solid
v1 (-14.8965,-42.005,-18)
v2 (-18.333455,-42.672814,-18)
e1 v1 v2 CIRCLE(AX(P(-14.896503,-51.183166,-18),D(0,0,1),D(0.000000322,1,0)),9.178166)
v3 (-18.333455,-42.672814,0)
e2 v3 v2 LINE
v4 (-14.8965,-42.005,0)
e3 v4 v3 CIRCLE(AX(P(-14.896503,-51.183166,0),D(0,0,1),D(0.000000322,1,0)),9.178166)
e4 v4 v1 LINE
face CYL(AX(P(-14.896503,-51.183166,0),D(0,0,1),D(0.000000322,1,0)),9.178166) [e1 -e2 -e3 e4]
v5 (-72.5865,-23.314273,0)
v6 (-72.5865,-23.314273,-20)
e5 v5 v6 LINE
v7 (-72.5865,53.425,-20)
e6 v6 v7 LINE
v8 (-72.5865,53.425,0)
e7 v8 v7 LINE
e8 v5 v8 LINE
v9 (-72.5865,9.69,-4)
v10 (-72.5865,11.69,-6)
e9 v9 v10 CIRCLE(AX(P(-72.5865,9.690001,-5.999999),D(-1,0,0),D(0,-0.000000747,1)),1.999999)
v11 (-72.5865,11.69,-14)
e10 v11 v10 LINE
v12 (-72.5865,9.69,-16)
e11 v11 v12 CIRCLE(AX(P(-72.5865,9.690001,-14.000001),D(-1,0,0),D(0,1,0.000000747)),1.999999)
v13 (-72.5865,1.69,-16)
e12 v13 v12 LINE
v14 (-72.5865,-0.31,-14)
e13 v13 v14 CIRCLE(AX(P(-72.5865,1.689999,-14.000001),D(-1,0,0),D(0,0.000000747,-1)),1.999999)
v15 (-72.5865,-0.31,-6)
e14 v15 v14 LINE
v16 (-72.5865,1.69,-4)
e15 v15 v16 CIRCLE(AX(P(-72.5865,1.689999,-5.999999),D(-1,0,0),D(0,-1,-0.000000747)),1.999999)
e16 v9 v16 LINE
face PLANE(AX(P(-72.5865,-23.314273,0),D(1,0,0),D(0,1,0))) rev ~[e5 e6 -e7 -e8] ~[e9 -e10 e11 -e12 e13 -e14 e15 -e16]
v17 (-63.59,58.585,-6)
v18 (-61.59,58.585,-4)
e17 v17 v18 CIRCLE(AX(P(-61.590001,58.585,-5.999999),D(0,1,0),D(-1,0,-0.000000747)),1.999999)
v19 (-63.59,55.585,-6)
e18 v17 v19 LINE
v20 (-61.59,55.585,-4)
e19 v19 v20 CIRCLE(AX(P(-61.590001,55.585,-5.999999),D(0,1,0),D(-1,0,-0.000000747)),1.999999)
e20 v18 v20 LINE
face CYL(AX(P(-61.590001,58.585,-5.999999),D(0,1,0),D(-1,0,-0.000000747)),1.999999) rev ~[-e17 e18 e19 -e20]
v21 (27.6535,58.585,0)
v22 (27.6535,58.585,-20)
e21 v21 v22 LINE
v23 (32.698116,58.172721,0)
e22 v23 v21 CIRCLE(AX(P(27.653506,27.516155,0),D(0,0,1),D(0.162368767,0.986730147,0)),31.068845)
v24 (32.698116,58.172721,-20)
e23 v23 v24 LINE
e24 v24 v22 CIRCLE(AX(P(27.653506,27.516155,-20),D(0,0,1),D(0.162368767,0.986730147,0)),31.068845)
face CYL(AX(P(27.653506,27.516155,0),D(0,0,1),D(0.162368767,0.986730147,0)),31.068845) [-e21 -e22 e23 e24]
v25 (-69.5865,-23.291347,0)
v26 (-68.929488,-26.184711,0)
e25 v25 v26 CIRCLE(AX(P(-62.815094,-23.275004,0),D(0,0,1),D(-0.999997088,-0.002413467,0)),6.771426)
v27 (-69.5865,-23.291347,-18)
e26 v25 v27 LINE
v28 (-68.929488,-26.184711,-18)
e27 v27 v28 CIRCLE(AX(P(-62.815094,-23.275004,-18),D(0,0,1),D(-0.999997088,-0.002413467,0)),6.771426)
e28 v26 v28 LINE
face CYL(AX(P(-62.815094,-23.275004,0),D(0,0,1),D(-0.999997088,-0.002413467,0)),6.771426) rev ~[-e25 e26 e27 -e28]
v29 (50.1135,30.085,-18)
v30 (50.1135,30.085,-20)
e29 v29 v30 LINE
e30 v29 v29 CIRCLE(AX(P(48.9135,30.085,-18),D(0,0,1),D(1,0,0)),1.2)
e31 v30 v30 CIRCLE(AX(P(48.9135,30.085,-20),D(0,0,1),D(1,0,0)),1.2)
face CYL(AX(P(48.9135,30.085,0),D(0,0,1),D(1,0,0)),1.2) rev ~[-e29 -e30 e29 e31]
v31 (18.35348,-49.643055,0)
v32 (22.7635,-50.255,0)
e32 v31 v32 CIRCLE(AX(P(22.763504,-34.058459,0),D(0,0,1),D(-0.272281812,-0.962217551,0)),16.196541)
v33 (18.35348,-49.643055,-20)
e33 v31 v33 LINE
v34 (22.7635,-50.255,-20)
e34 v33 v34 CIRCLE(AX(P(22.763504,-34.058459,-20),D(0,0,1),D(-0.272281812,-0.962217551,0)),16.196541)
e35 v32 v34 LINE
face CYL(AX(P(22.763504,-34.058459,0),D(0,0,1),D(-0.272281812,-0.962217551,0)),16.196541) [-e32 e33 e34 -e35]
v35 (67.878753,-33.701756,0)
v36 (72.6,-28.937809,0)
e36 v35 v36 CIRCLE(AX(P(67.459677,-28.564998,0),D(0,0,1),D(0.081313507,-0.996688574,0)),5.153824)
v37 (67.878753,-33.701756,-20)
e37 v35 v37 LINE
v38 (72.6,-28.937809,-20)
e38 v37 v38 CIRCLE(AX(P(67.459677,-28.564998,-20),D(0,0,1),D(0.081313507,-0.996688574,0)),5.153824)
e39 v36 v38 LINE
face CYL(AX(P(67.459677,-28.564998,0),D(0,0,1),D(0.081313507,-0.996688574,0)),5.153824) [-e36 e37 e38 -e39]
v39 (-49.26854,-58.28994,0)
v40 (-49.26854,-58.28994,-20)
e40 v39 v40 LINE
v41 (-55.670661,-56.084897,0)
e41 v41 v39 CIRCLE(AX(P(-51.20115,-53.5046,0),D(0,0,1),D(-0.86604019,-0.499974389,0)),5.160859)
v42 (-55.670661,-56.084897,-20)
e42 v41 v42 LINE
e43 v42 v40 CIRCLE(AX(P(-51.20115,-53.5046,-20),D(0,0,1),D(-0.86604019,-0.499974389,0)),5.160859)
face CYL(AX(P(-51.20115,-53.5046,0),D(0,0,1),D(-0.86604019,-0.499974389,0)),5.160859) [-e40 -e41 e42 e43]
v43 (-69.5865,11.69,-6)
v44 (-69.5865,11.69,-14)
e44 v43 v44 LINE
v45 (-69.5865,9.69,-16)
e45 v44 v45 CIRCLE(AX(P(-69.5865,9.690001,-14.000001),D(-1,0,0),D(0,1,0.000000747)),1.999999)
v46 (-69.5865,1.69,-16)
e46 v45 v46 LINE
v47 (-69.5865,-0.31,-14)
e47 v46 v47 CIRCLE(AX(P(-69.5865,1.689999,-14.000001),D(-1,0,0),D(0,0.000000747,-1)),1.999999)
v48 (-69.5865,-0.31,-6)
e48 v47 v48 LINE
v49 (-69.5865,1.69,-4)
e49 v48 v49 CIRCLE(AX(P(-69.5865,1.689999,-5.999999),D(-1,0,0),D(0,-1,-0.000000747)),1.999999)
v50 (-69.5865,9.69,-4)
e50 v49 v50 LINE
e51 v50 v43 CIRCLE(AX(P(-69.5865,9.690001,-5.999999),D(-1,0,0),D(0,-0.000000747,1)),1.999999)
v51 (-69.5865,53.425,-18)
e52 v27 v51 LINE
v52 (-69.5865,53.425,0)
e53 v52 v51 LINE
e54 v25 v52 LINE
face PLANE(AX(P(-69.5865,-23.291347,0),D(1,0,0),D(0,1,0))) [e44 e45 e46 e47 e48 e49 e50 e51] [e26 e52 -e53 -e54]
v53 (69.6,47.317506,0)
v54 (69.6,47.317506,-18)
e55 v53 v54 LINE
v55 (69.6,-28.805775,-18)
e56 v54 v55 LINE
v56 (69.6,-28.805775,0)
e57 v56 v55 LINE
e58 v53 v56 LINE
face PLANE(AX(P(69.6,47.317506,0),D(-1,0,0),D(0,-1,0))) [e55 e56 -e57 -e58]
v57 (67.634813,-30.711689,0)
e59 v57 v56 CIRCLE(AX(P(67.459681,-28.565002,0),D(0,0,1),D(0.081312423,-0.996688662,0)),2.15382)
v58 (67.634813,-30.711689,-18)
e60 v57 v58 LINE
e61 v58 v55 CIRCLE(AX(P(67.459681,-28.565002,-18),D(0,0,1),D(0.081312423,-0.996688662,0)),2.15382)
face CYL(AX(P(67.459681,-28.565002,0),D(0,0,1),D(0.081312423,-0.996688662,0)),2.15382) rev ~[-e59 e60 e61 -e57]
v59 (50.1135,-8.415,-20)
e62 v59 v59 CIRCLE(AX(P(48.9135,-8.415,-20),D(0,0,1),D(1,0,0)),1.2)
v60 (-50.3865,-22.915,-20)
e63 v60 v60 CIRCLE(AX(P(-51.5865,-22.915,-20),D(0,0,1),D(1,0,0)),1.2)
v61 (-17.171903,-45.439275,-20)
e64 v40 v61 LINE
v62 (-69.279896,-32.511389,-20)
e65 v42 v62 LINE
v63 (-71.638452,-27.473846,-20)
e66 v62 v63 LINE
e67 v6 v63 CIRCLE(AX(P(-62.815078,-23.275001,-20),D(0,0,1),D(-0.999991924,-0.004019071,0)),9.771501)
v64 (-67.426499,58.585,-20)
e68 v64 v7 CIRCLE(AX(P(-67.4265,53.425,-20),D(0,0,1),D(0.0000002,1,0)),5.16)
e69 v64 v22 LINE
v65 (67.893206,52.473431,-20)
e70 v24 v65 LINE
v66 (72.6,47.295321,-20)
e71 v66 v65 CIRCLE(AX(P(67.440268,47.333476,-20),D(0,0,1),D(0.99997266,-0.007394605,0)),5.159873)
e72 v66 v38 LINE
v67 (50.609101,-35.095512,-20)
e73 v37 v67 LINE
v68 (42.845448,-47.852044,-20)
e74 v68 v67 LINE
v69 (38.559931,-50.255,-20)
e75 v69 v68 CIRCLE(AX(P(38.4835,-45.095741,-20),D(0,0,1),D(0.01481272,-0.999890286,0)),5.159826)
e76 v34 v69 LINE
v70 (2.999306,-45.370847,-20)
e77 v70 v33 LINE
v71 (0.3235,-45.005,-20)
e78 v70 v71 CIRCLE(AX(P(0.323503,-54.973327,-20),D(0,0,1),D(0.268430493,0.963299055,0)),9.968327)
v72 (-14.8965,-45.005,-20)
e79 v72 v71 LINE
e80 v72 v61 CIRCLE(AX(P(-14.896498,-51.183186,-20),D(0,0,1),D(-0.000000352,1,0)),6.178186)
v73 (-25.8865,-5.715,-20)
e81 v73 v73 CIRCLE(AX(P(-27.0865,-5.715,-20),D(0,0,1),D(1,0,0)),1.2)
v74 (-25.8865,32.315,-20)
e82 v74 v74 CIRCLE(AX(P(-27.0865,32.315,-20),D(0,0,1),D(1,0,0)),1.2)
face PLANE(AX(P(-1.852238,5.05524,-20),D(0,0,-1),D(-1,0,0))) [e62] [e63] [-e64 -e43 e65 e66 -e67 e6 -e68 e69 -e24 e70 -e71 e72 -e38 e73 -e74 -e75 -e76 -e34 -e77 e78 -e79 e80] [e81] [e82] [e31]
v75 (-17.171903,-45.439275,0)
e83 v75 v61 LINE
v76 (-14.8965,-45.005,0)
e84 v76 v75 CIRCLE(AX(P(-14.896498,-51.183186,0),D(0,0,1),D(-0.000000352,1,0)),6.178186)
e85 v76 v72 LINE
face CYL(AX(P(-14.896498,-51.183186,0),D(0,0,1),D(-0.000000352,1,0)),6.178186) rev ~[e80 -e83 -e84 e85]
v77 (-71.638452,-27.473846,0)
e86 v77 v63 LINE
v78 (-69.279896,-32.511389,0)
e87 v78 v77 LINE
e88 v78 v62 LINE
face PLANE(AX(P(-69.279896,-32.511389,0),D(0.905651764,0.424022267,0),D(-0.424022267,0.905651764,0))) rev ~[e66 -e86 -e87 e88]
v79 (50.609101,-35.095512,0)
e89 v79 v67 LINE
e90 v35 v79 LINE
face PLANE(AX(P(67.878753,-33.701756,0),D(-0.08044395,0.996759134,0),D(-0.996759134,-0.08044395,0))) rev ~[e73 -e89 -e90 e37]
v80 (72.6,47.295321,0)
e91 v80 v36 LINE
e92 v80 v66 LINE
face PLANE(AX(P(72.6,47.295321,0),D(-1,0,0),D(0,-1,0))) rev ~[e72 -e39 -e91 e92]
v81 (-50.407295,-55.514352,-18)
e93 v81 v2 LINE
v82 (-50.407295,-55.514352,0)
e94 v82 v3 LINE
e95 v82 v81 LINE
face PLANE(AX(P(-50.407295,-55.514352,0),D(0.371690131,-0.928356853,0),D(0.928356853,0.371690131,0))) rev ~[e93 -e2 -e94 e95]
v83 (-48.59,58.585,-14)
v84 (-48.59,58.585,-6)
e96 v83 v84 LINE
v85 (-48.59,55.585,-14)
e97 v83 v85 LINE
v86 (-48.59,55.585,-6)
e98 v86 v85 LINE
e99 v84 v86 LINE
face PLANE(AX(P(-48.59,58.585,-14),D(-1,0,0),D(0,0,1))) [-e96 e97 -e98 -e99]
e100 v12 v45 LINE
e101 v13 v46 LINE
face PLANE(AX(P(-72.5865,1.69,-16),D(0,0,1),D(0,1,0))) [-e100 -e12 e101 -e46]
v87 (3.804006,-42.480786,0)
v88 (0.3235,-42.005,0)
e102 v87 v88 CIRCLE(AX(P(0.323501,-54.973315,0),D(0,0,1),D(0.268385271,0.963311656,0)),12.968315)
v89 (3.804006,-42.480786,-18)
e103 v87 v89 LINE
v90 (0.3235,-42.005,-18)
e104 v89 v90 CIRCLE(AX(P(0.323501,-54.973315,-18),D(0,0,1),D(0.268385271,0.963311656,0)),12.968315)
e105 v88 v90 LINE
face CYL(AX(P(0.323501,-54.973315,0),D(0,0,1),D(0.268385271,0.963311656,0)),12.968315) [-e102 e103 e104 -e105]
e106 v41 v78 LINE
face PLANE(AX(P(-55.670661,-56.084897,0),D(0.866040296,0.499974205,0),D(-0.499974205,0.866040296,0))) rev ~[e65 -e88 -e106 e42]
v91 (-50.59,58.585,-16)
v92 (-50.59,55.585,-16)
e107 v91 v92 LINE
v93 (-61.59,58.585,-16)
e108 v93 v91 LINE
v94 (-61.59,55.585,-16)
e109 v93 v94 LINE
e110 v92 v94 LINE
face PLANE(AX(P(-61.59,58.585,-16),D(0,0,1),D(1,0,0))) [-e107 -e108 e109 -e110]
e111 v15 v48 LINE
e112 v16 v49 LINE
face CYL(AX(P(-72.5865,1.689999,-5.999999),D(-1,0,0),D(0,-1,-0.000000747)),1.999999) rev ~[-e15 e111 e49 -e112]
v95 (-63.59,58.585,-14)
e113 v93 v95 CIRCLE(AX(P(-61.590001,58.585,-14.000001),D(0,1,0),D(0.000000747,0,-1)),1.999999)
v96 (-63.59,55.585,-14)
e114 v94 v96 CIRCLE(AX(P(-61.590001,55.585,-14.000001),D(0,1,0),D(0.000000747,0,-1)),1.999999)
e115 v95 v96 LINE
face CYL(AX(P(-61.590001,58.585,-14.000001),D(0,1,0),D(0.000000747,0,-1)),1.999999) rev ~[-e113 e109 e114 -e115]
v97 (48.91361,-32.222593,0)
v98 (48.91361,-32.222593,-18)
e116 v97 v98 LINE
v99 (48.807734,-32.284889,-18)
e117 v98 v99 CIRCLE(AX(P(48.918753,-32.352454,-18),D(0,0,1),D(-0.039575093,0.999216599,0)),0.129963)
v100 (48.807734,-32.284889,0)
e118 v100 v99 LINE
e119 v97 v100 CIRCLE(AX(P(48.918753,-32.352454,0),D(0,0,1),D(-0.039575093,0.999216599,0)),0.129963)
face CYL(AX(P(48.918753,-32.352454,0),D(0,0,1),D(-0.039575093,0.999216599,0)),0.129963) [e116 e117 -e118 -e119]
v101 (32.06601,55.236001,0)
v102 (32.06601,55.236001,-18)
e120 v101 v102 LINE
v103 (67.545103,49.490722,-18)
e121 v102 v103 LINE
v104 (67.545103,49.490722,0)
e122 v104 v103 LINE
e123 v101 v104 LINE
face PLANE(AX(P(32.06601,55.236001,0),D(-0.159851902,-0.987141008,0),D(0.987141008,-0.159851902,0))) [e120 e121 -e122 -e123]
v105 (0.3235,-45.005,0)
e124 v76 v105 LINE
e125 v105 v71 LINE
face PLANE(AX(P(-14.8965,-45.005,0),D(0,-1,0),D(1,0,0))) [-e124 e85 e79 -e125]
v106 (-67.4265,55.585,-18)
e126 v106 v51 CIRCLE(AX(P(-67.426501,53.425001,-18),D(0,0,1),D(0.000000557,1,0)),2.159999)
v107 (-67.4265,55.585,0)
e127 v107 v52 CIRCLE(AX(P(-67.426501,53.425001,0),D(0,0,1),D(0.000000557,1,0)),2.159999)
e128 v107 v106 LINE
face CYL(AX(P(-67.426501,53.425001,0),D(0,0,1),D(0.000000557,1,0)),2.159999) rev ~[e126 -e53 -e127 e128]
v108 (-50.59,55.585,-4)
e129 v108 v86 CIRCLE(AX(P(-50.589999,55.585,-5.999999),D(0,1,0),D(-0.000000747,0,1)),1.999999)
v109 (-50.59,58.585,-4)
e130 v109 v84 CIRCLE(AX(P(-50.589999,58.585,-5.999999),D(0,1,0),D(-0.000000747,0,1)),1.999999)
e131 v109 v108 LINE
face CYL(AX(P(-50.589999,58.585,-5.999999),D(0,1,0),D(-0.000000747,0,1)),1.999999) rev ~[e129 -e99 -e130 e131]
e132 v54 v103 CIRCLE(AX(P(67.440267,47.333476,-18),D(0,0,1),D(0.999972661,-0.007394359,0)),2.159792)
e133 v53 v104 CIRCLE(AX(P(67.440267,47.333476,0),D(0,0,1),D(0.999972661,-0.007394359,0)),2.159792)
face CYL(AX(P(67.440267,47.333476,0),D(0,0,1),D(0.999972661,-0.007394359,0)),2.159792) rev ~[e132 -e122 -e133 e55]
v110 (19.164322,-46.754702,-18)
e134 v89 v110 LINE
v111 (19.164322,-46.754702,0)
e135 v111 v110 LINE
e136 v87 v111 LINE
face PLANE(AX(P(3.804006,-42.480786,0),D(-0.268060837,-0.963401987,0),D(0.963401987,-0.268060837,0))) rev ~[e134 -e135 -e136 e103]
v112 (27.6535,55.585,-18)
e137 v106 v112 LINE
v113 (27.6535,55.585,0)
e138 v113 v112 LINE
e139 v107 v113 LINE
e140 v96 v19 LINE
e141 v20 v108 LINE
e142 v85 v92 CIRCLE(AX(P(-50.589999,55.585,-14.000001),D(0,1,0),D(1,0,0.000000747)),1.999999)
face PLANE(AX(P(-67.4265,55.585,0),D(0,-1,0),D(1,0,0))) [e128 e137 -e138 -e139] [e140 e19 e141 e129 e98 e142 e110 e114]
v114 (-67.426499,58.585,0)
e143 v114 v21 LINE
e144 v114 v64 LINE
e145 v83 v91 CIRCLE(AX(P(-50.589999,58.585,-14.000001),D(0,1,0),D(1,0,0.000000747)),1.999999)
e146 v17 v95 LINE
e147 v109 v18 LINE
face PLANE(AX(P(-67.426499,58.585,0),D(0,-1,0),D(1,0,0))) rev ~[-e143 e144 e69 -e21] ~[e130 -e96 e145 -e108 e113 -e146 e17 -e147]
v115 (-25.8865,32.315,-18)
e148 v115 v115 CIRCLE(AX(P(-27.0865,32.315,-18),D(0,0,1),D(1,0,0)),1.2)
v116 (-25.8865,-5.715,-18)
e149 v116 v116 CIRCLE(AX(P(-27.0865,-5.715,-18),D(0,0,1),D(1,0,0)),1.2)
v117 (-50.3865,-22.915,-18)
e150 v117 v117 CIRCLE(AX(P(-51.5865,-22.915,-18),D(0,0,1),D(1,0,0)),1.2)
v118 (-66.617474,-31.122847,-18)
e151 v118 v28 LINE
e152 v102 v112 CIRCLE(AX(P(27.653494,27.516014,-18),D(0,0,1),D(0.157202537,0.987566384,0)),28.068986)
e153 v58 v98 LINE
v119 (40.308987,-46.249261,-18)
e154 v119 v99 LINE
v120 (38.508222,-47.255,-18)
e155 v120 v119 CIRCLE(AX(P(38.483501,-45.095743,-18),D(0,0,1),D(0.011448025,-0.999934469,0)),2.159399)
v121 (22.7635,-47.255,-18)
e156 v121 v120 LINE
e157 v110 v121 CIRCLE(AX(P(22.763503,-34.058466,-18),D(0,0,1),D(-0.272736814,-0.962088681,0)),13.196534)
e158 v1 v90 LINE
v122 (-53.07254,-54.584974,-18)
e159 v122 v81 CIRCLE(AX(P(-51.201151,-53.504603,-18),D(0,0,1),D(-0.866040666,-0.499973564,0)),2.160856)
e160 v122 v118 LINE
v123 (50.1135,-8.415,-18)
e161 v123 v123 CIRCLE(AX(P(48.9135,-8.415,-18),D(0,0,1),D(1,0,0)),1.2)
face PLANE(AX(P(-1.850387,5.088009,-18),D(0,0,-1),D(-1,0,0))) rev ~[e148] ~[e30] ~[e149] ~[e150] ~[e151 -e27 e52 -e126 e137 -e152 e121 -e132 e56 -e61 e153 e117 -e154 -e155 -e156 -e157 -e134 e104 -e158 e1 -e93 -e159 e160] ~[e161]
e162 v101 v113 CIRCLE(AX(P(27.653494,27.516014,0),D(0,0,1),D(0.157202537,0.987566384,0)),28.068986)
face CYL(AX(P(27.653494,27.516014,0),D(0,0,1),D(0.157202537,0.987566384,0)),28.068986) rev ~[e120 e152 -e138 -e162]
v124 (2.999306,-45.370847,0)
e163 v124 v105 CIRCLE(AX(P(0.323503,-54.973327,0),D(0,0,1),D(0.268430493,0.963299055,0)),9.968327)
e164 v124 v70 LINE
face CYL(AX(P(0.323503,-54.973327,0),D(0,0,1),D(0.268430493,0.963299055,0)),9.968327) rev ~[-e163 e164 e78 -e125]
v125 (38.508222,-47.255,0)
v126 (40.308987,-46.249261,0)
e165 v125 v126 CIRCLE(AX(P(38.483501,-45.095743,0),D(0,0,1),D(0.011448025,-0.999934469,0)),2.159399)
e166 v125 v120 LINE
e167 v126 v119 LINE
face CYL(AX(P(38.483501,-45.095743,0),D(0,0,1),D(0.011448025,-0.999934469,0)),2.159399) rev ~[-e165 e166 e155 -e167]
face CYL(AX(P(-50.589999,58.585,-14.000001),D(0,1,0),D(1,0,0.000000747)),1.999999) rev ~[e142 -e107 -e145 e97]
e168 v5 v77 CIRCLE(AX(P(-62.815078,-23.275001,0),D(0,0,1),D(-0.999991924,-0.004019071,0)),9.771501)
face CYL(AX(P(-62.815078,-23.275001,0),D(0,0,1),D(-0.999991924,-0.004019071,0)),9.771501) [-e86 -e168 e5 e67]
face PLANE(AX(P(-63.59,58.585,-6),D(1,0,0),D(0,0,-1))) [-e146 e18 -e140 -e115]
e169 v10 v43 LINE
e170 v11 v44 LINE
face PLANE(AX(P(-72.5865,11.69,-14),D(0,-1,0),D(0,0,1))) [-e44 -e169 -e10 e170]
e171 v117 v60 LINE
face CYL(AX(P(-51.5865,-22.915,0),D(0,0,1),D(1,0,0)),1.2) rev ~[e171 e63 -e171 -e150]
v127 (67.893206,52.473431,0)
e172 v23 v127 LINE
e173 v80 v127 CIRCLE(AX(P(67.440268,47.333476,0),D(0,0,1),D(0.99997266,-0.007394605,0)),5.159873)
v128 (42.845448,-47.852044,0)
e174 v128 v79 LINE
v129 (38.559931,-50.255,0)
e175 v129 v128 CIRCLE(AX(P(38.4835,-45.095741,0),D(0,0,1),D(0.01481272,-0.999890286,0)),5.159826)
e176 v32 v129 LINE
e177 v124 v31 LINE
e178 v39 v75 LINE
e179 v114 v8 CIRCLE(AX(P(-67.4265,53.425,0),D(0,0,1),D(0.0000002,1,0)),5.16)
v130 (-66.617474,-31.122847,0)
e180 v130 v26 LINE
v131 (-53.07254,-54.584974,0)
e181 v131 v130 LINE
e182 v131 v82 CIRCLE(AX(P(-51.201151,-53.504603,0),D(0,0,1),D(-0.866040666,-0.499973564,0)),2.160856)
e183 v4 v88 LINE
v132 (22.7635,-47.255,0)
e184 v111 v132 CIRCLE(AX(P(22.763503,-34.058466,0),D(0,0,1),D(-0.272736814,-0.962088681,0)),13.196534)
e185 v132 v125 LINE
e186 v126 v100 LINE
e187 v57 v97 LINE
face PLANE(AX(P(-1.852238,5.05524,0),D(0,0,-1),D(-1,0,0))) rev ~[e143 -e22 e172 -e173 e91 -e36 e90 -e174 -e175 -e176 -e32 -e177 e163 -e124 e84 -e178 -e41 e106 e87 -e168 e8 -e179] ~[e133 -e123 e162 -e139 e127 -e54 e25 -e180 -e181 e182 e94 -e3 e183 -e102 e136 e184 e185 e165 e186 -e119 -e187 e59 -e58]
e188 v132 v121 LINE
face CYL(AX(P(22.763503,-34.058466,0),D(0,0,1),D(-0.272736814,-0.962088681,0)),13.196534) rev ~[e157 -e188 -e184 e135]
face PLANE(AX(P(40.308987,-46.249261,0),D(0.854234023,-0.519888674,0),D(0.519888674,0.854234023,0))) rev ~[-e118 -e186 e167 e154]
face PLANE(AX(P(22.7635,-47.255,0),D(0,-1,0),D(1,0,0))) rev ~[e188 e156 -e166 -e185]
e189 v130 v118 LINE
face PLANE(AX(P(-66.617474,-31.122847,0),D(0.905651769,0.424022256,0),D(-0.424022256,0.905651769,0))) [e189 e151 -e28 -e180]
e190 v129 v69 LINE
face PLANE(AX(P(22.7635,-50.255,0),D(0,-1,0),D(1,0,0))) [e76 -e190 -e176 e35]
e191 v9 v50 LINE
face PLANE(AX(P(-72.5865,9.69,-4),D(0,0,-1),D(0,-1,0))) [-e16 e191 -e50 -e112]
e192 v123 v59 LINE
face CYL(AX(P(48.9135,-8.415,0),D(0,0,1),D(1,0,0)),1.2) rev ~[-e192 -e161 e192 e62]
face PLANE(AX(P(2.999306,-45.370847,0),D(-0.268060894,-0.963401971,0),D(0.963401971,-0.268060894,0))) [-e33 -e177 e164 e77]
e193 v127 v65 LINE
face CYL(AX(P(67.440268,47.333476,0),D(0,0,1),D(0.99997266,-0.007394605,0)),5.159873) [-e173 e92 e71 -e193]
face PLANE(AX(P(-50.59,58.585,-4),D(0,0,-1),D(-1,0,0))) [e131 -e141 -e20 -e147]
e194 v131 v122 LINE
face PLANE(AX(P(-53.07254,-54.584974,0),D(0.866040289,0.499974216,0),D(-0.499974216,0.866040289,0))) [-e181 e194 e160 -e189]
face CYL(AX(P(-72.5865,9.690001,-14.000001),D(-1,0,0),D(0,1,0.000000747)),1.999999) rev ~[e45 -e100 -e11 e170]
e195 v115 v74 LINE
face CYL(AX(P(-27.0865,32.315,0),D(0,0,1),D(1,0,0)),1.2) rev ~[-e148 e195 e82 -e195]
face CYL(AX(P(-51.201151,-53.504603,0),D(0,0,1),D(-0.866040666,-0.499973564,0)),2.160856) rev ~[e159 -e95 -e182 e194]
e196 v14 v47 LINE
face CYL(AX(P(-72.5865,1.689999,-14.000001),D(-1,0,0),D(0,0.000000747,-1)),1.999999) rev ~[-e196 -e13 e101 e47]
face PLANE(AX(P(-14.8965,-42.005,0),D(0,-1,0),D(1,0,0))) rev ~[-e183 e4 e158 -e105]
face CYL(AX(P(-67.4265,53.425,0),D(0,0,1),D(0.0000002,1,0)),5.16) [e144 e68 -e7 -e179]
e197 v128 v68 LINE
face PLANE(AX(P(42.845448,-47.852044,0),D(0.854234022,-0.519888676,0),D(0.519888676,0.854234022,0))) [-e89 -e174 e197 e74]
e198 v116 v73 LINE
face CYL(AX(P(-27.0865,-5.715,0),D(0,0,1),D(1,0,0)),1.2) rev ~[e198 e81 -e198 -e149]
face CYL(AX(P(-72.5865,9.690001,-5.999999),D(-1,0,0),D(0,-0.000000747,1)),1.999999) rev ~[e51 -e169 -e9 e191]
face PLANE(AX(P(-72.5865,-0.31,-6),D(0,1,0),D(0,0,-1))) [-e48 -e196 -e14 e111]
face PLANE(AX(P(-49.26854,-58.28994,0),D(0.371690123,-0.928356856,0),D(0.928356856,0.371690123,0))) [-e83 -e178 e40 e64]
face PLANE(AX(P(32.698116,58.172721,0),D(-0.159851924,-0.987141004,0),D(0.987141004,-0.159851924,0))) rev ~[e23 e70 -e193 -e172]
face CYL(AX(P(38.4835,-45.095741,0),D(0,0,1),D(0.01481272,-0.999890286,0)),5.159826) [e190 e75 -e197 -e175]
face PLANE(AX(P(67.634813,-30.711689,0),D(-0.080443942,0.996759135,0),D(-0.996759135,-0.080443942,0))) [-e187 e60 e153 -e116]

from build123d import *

# Parameters (mm, degrees)
PAD_DEPTH       = 20
POCKET_DEPTH    = 18
SKETCH005_R     = 1.2
POCKET003_DEPTH = 20.001
POCKET004_DEPTH = 5
POCKET005_DEPTH = 5


with BuildPart() as part:
    # Sketch001 → Pad (new body)
    with BuildSketch(Plane.XY):
        with BuildLine():
            Line((-67.426499, 58.585), (27.6535, 58.585))
            ThreePointArc((32.698116, 58.172721), (30.184217, 58.481759), (27.6535, 58.585))
            Line((32.698116, 58.172721), (67.893206, 52.473431))
            ThreePointArc((72.6, 47.295321), (71.258477, 50.804149), (67.893206, 52.473431))
            Line((72.6, 47.295321), (72.6, -28.937809))
            ThreePointArc((67.878753, -33.701756), (71.12035, -32.19286), (72.6, -28.937809))
            Line((67.878753, -33.701756), (50.609101, -35.095512))
            Line((42.845448, -47.852044), (50.609101, -35.095512))
            ThreePointArc((38.559931, -50.255), (41.007059, -49.596346), (42.845448, -47.852044))
            Line((22.7635, -50.255), (38.559931, -50.255))
            ThreePointArc((18.35348, -49.643055), (20.537362, -50.101284), (22.7635, -50.255))
            Line((2.999306, -45.370847), (18.35348, -49.643055))
            ThreePointArc((2.999306, -45.370847), (1.67385, -45.096885), (0.3235, -45.005))
            Line((-14.8965, -45.005), (0.3235, -45.005))
            ThreePointArc((-14.8965, -45.005), (-16.054737, -45.11454), (-17.171903, -45.439275))
            Line((-49.26854, -58.28994), (-17.171903, -45.439275))
            ThreePointArc((-55.670661, -56.084897), (-52.881781, -58.384143), (-49.26854, -58.28994))
            Line((-55.670661, -56.084897), (-69.279896, -32.511389))
            Line((-69.279896, -32.511389), (-71.638452, -27.473846))
            ThreePointArc((-72.5865, -23.314273), (-72.342256, -25.446431), (-71.638452, -27.473846))
            Line((-72.5865, -23.314273), (-72.5865, 53.425))
            ThreePointArc((-67.426499, 58.585), (-71.075171, 57.073671), (-72.5865, 53.425))
        make_face()
    extrude(amount=-PAD_DEPTH)

    # Sketch002 → Pocket (cut)
    with BuildSketch(Plane.XY):
        with BuildLine():
            Line((-67.4265, 55.585), (27.6535, 55.585))
            ThreePointArc((32.06601, 55.236001), (29.866645, 55.497614), (27.6535, 55.585))
            Line((32.06601, 55.236001), (67.545103, 49.490722))
            ThreePointArc((69.6, 47.317506), (69.009594, 48.817361), (67.545103, 49.490722))
            Line((69.6, 47.317506), (69.6, -28.805775))
            ThreePointArc((67.634813, -30.711689), (68.959166, -30.11112), (69.6, -28.805775))
            Line((67.634813, -30.711689), (48.91361, -32.222593))
            ThreePointArc((48.91361, -32.222593), (48.852847, -32.240442), (48.807734, -32.284889))
            Line((40.308987, -46.249261), (48.807734, -32.284889))
            ThreePointArc((38.508222, -47.255), (39.536447, -46.98103), (40.308987, -46.249261))
            Line((22.7635, -47.255), (38.508222, -47.255))
            ThreePointArc((19.164322, -46.754702), (20.946609, -47.129327), (22.7635, -47.255))
            Line((3.804006, -42.480786), (19.164322, -46.754702))
            ThreePointArc((3.804006, -42.480786), (2.079938, -42.124497), (0.3235, -42.005))
            Line((-14.8965, -42.005), (0.3235, -42.005))
            ThreePointArc((-14.8965, -42.005), (-16.647117, -42.1735), (-18.333455, -42.672814))
            Line((-50.407295, -55.514352), (-18.333455, -42.672814))
            ThreePointArc((-53.07254, -54.584974), (-51.912632, -55.544969), (-50.407295, -55.514352))
            Line((-53.07254, -54.584974), (-66.617474, -31.122847))
            Line((-66.617474, -31.122847), (-68.929488, -26.184711))
            ThreePointArc((-69.5865, -23.291347), (-69.418415, -24.774457), (-68.929488, -26.184711))
            Line((-69.5865, -23.291347), (-69.5865, 53.425))
            ThreePointArc((-67.4265, 55.585), (-68.953851, 54.952351), (-69.5865, 53.425))
        make_face()
    extrude(amount=-POCKET_DEPTH, mode=Mode.SUBTRACT)

    # Sketch005 → Pocket003 (cut, through all)
    with BuildSketch(Plane.XY):
        with Locations((-27.0865, 32.315)):
            Circle(SKETCH005_R)
        with Locations((48.9135, -8.415)):
            Circle(SKETCH005_R)
        with Locations((48.9135, 30.085)):
            Circle(SKETCH005_R)
        with Locations((-27.0865, -5.715)):
            Circle(SKETCH005_R)
        with Locations((-51.5865, -22.915)):
            Circle(SKETCH005_R)
    extrude(amount=-POCKET003_DEPTH, mode=Mode.SUBTRACT)

    # Sketch003 (on Face7 of Pocket) → Pocket004 (cut)
    with BuildSketch(Plane(origin=(0, 58.585, 0), x_dir=(-1, 0, 0), z_dir=(0, 1, 0))):
        with BuildLine():
            Line((50.59, -4), (61.59, -4))
            ThreePointArc((63.59, -6), (63.004214, -4.585786), (61.59, -4))
            Line((63.59, -6), (63.59, -14))
            ThreePointArc((61.59, -16), (63.004214, -15.414214), (63.59, -14))
            Line((61.59, -16), (50.59, -16))
            ThreePointArc((48.59, -14), (49.175786, -15.414214), (50.59, -16))
            Line((48.59, -14), (48.59, -6))
            ThreePointArc((50.59, -4), (49.175786, -4.585786), (48.59, -6))
        make_face()
    extrude(amount=-POCKET004_DEPTH, mode=Mode.SUBTRACT)

    # Sketch004 (on Face1 of Pocket004) → Pocket005 (cut)
    with BuildSketch(Plane(origin=(-72.5865, 0, 0), x_dir=(0, -1, 0), z_dir=(-1, 0, 0))):
        with BuildLine():
            Line((-9.69, -4), (-1.69, -4))
            ThreePointArc((0.31, -6), (-0.275786, -4.585786), (-1.69, -4))
            Line((0.31, -6), (0.31, -14))
            ThreePointArc((-1.69, -16), (-0.275786, -15.414214), (0.31, -14))
            Line((-1.69, -16), (-9.69, -16))
            ThreePointArc((-11.69, -14), (-11.104214, -15.414214), (-9.69, -16))
            Line((-11.69, -14), (-11.69, -6))
            ThreePointArc((-9.69, -4), (-11.104214, -4.585786), (-11.69, -6))
        make_face()
    extrude(amount=-POCKET005_DEPTH, mode=Mode.SUBTRACT)


solid = part.part
